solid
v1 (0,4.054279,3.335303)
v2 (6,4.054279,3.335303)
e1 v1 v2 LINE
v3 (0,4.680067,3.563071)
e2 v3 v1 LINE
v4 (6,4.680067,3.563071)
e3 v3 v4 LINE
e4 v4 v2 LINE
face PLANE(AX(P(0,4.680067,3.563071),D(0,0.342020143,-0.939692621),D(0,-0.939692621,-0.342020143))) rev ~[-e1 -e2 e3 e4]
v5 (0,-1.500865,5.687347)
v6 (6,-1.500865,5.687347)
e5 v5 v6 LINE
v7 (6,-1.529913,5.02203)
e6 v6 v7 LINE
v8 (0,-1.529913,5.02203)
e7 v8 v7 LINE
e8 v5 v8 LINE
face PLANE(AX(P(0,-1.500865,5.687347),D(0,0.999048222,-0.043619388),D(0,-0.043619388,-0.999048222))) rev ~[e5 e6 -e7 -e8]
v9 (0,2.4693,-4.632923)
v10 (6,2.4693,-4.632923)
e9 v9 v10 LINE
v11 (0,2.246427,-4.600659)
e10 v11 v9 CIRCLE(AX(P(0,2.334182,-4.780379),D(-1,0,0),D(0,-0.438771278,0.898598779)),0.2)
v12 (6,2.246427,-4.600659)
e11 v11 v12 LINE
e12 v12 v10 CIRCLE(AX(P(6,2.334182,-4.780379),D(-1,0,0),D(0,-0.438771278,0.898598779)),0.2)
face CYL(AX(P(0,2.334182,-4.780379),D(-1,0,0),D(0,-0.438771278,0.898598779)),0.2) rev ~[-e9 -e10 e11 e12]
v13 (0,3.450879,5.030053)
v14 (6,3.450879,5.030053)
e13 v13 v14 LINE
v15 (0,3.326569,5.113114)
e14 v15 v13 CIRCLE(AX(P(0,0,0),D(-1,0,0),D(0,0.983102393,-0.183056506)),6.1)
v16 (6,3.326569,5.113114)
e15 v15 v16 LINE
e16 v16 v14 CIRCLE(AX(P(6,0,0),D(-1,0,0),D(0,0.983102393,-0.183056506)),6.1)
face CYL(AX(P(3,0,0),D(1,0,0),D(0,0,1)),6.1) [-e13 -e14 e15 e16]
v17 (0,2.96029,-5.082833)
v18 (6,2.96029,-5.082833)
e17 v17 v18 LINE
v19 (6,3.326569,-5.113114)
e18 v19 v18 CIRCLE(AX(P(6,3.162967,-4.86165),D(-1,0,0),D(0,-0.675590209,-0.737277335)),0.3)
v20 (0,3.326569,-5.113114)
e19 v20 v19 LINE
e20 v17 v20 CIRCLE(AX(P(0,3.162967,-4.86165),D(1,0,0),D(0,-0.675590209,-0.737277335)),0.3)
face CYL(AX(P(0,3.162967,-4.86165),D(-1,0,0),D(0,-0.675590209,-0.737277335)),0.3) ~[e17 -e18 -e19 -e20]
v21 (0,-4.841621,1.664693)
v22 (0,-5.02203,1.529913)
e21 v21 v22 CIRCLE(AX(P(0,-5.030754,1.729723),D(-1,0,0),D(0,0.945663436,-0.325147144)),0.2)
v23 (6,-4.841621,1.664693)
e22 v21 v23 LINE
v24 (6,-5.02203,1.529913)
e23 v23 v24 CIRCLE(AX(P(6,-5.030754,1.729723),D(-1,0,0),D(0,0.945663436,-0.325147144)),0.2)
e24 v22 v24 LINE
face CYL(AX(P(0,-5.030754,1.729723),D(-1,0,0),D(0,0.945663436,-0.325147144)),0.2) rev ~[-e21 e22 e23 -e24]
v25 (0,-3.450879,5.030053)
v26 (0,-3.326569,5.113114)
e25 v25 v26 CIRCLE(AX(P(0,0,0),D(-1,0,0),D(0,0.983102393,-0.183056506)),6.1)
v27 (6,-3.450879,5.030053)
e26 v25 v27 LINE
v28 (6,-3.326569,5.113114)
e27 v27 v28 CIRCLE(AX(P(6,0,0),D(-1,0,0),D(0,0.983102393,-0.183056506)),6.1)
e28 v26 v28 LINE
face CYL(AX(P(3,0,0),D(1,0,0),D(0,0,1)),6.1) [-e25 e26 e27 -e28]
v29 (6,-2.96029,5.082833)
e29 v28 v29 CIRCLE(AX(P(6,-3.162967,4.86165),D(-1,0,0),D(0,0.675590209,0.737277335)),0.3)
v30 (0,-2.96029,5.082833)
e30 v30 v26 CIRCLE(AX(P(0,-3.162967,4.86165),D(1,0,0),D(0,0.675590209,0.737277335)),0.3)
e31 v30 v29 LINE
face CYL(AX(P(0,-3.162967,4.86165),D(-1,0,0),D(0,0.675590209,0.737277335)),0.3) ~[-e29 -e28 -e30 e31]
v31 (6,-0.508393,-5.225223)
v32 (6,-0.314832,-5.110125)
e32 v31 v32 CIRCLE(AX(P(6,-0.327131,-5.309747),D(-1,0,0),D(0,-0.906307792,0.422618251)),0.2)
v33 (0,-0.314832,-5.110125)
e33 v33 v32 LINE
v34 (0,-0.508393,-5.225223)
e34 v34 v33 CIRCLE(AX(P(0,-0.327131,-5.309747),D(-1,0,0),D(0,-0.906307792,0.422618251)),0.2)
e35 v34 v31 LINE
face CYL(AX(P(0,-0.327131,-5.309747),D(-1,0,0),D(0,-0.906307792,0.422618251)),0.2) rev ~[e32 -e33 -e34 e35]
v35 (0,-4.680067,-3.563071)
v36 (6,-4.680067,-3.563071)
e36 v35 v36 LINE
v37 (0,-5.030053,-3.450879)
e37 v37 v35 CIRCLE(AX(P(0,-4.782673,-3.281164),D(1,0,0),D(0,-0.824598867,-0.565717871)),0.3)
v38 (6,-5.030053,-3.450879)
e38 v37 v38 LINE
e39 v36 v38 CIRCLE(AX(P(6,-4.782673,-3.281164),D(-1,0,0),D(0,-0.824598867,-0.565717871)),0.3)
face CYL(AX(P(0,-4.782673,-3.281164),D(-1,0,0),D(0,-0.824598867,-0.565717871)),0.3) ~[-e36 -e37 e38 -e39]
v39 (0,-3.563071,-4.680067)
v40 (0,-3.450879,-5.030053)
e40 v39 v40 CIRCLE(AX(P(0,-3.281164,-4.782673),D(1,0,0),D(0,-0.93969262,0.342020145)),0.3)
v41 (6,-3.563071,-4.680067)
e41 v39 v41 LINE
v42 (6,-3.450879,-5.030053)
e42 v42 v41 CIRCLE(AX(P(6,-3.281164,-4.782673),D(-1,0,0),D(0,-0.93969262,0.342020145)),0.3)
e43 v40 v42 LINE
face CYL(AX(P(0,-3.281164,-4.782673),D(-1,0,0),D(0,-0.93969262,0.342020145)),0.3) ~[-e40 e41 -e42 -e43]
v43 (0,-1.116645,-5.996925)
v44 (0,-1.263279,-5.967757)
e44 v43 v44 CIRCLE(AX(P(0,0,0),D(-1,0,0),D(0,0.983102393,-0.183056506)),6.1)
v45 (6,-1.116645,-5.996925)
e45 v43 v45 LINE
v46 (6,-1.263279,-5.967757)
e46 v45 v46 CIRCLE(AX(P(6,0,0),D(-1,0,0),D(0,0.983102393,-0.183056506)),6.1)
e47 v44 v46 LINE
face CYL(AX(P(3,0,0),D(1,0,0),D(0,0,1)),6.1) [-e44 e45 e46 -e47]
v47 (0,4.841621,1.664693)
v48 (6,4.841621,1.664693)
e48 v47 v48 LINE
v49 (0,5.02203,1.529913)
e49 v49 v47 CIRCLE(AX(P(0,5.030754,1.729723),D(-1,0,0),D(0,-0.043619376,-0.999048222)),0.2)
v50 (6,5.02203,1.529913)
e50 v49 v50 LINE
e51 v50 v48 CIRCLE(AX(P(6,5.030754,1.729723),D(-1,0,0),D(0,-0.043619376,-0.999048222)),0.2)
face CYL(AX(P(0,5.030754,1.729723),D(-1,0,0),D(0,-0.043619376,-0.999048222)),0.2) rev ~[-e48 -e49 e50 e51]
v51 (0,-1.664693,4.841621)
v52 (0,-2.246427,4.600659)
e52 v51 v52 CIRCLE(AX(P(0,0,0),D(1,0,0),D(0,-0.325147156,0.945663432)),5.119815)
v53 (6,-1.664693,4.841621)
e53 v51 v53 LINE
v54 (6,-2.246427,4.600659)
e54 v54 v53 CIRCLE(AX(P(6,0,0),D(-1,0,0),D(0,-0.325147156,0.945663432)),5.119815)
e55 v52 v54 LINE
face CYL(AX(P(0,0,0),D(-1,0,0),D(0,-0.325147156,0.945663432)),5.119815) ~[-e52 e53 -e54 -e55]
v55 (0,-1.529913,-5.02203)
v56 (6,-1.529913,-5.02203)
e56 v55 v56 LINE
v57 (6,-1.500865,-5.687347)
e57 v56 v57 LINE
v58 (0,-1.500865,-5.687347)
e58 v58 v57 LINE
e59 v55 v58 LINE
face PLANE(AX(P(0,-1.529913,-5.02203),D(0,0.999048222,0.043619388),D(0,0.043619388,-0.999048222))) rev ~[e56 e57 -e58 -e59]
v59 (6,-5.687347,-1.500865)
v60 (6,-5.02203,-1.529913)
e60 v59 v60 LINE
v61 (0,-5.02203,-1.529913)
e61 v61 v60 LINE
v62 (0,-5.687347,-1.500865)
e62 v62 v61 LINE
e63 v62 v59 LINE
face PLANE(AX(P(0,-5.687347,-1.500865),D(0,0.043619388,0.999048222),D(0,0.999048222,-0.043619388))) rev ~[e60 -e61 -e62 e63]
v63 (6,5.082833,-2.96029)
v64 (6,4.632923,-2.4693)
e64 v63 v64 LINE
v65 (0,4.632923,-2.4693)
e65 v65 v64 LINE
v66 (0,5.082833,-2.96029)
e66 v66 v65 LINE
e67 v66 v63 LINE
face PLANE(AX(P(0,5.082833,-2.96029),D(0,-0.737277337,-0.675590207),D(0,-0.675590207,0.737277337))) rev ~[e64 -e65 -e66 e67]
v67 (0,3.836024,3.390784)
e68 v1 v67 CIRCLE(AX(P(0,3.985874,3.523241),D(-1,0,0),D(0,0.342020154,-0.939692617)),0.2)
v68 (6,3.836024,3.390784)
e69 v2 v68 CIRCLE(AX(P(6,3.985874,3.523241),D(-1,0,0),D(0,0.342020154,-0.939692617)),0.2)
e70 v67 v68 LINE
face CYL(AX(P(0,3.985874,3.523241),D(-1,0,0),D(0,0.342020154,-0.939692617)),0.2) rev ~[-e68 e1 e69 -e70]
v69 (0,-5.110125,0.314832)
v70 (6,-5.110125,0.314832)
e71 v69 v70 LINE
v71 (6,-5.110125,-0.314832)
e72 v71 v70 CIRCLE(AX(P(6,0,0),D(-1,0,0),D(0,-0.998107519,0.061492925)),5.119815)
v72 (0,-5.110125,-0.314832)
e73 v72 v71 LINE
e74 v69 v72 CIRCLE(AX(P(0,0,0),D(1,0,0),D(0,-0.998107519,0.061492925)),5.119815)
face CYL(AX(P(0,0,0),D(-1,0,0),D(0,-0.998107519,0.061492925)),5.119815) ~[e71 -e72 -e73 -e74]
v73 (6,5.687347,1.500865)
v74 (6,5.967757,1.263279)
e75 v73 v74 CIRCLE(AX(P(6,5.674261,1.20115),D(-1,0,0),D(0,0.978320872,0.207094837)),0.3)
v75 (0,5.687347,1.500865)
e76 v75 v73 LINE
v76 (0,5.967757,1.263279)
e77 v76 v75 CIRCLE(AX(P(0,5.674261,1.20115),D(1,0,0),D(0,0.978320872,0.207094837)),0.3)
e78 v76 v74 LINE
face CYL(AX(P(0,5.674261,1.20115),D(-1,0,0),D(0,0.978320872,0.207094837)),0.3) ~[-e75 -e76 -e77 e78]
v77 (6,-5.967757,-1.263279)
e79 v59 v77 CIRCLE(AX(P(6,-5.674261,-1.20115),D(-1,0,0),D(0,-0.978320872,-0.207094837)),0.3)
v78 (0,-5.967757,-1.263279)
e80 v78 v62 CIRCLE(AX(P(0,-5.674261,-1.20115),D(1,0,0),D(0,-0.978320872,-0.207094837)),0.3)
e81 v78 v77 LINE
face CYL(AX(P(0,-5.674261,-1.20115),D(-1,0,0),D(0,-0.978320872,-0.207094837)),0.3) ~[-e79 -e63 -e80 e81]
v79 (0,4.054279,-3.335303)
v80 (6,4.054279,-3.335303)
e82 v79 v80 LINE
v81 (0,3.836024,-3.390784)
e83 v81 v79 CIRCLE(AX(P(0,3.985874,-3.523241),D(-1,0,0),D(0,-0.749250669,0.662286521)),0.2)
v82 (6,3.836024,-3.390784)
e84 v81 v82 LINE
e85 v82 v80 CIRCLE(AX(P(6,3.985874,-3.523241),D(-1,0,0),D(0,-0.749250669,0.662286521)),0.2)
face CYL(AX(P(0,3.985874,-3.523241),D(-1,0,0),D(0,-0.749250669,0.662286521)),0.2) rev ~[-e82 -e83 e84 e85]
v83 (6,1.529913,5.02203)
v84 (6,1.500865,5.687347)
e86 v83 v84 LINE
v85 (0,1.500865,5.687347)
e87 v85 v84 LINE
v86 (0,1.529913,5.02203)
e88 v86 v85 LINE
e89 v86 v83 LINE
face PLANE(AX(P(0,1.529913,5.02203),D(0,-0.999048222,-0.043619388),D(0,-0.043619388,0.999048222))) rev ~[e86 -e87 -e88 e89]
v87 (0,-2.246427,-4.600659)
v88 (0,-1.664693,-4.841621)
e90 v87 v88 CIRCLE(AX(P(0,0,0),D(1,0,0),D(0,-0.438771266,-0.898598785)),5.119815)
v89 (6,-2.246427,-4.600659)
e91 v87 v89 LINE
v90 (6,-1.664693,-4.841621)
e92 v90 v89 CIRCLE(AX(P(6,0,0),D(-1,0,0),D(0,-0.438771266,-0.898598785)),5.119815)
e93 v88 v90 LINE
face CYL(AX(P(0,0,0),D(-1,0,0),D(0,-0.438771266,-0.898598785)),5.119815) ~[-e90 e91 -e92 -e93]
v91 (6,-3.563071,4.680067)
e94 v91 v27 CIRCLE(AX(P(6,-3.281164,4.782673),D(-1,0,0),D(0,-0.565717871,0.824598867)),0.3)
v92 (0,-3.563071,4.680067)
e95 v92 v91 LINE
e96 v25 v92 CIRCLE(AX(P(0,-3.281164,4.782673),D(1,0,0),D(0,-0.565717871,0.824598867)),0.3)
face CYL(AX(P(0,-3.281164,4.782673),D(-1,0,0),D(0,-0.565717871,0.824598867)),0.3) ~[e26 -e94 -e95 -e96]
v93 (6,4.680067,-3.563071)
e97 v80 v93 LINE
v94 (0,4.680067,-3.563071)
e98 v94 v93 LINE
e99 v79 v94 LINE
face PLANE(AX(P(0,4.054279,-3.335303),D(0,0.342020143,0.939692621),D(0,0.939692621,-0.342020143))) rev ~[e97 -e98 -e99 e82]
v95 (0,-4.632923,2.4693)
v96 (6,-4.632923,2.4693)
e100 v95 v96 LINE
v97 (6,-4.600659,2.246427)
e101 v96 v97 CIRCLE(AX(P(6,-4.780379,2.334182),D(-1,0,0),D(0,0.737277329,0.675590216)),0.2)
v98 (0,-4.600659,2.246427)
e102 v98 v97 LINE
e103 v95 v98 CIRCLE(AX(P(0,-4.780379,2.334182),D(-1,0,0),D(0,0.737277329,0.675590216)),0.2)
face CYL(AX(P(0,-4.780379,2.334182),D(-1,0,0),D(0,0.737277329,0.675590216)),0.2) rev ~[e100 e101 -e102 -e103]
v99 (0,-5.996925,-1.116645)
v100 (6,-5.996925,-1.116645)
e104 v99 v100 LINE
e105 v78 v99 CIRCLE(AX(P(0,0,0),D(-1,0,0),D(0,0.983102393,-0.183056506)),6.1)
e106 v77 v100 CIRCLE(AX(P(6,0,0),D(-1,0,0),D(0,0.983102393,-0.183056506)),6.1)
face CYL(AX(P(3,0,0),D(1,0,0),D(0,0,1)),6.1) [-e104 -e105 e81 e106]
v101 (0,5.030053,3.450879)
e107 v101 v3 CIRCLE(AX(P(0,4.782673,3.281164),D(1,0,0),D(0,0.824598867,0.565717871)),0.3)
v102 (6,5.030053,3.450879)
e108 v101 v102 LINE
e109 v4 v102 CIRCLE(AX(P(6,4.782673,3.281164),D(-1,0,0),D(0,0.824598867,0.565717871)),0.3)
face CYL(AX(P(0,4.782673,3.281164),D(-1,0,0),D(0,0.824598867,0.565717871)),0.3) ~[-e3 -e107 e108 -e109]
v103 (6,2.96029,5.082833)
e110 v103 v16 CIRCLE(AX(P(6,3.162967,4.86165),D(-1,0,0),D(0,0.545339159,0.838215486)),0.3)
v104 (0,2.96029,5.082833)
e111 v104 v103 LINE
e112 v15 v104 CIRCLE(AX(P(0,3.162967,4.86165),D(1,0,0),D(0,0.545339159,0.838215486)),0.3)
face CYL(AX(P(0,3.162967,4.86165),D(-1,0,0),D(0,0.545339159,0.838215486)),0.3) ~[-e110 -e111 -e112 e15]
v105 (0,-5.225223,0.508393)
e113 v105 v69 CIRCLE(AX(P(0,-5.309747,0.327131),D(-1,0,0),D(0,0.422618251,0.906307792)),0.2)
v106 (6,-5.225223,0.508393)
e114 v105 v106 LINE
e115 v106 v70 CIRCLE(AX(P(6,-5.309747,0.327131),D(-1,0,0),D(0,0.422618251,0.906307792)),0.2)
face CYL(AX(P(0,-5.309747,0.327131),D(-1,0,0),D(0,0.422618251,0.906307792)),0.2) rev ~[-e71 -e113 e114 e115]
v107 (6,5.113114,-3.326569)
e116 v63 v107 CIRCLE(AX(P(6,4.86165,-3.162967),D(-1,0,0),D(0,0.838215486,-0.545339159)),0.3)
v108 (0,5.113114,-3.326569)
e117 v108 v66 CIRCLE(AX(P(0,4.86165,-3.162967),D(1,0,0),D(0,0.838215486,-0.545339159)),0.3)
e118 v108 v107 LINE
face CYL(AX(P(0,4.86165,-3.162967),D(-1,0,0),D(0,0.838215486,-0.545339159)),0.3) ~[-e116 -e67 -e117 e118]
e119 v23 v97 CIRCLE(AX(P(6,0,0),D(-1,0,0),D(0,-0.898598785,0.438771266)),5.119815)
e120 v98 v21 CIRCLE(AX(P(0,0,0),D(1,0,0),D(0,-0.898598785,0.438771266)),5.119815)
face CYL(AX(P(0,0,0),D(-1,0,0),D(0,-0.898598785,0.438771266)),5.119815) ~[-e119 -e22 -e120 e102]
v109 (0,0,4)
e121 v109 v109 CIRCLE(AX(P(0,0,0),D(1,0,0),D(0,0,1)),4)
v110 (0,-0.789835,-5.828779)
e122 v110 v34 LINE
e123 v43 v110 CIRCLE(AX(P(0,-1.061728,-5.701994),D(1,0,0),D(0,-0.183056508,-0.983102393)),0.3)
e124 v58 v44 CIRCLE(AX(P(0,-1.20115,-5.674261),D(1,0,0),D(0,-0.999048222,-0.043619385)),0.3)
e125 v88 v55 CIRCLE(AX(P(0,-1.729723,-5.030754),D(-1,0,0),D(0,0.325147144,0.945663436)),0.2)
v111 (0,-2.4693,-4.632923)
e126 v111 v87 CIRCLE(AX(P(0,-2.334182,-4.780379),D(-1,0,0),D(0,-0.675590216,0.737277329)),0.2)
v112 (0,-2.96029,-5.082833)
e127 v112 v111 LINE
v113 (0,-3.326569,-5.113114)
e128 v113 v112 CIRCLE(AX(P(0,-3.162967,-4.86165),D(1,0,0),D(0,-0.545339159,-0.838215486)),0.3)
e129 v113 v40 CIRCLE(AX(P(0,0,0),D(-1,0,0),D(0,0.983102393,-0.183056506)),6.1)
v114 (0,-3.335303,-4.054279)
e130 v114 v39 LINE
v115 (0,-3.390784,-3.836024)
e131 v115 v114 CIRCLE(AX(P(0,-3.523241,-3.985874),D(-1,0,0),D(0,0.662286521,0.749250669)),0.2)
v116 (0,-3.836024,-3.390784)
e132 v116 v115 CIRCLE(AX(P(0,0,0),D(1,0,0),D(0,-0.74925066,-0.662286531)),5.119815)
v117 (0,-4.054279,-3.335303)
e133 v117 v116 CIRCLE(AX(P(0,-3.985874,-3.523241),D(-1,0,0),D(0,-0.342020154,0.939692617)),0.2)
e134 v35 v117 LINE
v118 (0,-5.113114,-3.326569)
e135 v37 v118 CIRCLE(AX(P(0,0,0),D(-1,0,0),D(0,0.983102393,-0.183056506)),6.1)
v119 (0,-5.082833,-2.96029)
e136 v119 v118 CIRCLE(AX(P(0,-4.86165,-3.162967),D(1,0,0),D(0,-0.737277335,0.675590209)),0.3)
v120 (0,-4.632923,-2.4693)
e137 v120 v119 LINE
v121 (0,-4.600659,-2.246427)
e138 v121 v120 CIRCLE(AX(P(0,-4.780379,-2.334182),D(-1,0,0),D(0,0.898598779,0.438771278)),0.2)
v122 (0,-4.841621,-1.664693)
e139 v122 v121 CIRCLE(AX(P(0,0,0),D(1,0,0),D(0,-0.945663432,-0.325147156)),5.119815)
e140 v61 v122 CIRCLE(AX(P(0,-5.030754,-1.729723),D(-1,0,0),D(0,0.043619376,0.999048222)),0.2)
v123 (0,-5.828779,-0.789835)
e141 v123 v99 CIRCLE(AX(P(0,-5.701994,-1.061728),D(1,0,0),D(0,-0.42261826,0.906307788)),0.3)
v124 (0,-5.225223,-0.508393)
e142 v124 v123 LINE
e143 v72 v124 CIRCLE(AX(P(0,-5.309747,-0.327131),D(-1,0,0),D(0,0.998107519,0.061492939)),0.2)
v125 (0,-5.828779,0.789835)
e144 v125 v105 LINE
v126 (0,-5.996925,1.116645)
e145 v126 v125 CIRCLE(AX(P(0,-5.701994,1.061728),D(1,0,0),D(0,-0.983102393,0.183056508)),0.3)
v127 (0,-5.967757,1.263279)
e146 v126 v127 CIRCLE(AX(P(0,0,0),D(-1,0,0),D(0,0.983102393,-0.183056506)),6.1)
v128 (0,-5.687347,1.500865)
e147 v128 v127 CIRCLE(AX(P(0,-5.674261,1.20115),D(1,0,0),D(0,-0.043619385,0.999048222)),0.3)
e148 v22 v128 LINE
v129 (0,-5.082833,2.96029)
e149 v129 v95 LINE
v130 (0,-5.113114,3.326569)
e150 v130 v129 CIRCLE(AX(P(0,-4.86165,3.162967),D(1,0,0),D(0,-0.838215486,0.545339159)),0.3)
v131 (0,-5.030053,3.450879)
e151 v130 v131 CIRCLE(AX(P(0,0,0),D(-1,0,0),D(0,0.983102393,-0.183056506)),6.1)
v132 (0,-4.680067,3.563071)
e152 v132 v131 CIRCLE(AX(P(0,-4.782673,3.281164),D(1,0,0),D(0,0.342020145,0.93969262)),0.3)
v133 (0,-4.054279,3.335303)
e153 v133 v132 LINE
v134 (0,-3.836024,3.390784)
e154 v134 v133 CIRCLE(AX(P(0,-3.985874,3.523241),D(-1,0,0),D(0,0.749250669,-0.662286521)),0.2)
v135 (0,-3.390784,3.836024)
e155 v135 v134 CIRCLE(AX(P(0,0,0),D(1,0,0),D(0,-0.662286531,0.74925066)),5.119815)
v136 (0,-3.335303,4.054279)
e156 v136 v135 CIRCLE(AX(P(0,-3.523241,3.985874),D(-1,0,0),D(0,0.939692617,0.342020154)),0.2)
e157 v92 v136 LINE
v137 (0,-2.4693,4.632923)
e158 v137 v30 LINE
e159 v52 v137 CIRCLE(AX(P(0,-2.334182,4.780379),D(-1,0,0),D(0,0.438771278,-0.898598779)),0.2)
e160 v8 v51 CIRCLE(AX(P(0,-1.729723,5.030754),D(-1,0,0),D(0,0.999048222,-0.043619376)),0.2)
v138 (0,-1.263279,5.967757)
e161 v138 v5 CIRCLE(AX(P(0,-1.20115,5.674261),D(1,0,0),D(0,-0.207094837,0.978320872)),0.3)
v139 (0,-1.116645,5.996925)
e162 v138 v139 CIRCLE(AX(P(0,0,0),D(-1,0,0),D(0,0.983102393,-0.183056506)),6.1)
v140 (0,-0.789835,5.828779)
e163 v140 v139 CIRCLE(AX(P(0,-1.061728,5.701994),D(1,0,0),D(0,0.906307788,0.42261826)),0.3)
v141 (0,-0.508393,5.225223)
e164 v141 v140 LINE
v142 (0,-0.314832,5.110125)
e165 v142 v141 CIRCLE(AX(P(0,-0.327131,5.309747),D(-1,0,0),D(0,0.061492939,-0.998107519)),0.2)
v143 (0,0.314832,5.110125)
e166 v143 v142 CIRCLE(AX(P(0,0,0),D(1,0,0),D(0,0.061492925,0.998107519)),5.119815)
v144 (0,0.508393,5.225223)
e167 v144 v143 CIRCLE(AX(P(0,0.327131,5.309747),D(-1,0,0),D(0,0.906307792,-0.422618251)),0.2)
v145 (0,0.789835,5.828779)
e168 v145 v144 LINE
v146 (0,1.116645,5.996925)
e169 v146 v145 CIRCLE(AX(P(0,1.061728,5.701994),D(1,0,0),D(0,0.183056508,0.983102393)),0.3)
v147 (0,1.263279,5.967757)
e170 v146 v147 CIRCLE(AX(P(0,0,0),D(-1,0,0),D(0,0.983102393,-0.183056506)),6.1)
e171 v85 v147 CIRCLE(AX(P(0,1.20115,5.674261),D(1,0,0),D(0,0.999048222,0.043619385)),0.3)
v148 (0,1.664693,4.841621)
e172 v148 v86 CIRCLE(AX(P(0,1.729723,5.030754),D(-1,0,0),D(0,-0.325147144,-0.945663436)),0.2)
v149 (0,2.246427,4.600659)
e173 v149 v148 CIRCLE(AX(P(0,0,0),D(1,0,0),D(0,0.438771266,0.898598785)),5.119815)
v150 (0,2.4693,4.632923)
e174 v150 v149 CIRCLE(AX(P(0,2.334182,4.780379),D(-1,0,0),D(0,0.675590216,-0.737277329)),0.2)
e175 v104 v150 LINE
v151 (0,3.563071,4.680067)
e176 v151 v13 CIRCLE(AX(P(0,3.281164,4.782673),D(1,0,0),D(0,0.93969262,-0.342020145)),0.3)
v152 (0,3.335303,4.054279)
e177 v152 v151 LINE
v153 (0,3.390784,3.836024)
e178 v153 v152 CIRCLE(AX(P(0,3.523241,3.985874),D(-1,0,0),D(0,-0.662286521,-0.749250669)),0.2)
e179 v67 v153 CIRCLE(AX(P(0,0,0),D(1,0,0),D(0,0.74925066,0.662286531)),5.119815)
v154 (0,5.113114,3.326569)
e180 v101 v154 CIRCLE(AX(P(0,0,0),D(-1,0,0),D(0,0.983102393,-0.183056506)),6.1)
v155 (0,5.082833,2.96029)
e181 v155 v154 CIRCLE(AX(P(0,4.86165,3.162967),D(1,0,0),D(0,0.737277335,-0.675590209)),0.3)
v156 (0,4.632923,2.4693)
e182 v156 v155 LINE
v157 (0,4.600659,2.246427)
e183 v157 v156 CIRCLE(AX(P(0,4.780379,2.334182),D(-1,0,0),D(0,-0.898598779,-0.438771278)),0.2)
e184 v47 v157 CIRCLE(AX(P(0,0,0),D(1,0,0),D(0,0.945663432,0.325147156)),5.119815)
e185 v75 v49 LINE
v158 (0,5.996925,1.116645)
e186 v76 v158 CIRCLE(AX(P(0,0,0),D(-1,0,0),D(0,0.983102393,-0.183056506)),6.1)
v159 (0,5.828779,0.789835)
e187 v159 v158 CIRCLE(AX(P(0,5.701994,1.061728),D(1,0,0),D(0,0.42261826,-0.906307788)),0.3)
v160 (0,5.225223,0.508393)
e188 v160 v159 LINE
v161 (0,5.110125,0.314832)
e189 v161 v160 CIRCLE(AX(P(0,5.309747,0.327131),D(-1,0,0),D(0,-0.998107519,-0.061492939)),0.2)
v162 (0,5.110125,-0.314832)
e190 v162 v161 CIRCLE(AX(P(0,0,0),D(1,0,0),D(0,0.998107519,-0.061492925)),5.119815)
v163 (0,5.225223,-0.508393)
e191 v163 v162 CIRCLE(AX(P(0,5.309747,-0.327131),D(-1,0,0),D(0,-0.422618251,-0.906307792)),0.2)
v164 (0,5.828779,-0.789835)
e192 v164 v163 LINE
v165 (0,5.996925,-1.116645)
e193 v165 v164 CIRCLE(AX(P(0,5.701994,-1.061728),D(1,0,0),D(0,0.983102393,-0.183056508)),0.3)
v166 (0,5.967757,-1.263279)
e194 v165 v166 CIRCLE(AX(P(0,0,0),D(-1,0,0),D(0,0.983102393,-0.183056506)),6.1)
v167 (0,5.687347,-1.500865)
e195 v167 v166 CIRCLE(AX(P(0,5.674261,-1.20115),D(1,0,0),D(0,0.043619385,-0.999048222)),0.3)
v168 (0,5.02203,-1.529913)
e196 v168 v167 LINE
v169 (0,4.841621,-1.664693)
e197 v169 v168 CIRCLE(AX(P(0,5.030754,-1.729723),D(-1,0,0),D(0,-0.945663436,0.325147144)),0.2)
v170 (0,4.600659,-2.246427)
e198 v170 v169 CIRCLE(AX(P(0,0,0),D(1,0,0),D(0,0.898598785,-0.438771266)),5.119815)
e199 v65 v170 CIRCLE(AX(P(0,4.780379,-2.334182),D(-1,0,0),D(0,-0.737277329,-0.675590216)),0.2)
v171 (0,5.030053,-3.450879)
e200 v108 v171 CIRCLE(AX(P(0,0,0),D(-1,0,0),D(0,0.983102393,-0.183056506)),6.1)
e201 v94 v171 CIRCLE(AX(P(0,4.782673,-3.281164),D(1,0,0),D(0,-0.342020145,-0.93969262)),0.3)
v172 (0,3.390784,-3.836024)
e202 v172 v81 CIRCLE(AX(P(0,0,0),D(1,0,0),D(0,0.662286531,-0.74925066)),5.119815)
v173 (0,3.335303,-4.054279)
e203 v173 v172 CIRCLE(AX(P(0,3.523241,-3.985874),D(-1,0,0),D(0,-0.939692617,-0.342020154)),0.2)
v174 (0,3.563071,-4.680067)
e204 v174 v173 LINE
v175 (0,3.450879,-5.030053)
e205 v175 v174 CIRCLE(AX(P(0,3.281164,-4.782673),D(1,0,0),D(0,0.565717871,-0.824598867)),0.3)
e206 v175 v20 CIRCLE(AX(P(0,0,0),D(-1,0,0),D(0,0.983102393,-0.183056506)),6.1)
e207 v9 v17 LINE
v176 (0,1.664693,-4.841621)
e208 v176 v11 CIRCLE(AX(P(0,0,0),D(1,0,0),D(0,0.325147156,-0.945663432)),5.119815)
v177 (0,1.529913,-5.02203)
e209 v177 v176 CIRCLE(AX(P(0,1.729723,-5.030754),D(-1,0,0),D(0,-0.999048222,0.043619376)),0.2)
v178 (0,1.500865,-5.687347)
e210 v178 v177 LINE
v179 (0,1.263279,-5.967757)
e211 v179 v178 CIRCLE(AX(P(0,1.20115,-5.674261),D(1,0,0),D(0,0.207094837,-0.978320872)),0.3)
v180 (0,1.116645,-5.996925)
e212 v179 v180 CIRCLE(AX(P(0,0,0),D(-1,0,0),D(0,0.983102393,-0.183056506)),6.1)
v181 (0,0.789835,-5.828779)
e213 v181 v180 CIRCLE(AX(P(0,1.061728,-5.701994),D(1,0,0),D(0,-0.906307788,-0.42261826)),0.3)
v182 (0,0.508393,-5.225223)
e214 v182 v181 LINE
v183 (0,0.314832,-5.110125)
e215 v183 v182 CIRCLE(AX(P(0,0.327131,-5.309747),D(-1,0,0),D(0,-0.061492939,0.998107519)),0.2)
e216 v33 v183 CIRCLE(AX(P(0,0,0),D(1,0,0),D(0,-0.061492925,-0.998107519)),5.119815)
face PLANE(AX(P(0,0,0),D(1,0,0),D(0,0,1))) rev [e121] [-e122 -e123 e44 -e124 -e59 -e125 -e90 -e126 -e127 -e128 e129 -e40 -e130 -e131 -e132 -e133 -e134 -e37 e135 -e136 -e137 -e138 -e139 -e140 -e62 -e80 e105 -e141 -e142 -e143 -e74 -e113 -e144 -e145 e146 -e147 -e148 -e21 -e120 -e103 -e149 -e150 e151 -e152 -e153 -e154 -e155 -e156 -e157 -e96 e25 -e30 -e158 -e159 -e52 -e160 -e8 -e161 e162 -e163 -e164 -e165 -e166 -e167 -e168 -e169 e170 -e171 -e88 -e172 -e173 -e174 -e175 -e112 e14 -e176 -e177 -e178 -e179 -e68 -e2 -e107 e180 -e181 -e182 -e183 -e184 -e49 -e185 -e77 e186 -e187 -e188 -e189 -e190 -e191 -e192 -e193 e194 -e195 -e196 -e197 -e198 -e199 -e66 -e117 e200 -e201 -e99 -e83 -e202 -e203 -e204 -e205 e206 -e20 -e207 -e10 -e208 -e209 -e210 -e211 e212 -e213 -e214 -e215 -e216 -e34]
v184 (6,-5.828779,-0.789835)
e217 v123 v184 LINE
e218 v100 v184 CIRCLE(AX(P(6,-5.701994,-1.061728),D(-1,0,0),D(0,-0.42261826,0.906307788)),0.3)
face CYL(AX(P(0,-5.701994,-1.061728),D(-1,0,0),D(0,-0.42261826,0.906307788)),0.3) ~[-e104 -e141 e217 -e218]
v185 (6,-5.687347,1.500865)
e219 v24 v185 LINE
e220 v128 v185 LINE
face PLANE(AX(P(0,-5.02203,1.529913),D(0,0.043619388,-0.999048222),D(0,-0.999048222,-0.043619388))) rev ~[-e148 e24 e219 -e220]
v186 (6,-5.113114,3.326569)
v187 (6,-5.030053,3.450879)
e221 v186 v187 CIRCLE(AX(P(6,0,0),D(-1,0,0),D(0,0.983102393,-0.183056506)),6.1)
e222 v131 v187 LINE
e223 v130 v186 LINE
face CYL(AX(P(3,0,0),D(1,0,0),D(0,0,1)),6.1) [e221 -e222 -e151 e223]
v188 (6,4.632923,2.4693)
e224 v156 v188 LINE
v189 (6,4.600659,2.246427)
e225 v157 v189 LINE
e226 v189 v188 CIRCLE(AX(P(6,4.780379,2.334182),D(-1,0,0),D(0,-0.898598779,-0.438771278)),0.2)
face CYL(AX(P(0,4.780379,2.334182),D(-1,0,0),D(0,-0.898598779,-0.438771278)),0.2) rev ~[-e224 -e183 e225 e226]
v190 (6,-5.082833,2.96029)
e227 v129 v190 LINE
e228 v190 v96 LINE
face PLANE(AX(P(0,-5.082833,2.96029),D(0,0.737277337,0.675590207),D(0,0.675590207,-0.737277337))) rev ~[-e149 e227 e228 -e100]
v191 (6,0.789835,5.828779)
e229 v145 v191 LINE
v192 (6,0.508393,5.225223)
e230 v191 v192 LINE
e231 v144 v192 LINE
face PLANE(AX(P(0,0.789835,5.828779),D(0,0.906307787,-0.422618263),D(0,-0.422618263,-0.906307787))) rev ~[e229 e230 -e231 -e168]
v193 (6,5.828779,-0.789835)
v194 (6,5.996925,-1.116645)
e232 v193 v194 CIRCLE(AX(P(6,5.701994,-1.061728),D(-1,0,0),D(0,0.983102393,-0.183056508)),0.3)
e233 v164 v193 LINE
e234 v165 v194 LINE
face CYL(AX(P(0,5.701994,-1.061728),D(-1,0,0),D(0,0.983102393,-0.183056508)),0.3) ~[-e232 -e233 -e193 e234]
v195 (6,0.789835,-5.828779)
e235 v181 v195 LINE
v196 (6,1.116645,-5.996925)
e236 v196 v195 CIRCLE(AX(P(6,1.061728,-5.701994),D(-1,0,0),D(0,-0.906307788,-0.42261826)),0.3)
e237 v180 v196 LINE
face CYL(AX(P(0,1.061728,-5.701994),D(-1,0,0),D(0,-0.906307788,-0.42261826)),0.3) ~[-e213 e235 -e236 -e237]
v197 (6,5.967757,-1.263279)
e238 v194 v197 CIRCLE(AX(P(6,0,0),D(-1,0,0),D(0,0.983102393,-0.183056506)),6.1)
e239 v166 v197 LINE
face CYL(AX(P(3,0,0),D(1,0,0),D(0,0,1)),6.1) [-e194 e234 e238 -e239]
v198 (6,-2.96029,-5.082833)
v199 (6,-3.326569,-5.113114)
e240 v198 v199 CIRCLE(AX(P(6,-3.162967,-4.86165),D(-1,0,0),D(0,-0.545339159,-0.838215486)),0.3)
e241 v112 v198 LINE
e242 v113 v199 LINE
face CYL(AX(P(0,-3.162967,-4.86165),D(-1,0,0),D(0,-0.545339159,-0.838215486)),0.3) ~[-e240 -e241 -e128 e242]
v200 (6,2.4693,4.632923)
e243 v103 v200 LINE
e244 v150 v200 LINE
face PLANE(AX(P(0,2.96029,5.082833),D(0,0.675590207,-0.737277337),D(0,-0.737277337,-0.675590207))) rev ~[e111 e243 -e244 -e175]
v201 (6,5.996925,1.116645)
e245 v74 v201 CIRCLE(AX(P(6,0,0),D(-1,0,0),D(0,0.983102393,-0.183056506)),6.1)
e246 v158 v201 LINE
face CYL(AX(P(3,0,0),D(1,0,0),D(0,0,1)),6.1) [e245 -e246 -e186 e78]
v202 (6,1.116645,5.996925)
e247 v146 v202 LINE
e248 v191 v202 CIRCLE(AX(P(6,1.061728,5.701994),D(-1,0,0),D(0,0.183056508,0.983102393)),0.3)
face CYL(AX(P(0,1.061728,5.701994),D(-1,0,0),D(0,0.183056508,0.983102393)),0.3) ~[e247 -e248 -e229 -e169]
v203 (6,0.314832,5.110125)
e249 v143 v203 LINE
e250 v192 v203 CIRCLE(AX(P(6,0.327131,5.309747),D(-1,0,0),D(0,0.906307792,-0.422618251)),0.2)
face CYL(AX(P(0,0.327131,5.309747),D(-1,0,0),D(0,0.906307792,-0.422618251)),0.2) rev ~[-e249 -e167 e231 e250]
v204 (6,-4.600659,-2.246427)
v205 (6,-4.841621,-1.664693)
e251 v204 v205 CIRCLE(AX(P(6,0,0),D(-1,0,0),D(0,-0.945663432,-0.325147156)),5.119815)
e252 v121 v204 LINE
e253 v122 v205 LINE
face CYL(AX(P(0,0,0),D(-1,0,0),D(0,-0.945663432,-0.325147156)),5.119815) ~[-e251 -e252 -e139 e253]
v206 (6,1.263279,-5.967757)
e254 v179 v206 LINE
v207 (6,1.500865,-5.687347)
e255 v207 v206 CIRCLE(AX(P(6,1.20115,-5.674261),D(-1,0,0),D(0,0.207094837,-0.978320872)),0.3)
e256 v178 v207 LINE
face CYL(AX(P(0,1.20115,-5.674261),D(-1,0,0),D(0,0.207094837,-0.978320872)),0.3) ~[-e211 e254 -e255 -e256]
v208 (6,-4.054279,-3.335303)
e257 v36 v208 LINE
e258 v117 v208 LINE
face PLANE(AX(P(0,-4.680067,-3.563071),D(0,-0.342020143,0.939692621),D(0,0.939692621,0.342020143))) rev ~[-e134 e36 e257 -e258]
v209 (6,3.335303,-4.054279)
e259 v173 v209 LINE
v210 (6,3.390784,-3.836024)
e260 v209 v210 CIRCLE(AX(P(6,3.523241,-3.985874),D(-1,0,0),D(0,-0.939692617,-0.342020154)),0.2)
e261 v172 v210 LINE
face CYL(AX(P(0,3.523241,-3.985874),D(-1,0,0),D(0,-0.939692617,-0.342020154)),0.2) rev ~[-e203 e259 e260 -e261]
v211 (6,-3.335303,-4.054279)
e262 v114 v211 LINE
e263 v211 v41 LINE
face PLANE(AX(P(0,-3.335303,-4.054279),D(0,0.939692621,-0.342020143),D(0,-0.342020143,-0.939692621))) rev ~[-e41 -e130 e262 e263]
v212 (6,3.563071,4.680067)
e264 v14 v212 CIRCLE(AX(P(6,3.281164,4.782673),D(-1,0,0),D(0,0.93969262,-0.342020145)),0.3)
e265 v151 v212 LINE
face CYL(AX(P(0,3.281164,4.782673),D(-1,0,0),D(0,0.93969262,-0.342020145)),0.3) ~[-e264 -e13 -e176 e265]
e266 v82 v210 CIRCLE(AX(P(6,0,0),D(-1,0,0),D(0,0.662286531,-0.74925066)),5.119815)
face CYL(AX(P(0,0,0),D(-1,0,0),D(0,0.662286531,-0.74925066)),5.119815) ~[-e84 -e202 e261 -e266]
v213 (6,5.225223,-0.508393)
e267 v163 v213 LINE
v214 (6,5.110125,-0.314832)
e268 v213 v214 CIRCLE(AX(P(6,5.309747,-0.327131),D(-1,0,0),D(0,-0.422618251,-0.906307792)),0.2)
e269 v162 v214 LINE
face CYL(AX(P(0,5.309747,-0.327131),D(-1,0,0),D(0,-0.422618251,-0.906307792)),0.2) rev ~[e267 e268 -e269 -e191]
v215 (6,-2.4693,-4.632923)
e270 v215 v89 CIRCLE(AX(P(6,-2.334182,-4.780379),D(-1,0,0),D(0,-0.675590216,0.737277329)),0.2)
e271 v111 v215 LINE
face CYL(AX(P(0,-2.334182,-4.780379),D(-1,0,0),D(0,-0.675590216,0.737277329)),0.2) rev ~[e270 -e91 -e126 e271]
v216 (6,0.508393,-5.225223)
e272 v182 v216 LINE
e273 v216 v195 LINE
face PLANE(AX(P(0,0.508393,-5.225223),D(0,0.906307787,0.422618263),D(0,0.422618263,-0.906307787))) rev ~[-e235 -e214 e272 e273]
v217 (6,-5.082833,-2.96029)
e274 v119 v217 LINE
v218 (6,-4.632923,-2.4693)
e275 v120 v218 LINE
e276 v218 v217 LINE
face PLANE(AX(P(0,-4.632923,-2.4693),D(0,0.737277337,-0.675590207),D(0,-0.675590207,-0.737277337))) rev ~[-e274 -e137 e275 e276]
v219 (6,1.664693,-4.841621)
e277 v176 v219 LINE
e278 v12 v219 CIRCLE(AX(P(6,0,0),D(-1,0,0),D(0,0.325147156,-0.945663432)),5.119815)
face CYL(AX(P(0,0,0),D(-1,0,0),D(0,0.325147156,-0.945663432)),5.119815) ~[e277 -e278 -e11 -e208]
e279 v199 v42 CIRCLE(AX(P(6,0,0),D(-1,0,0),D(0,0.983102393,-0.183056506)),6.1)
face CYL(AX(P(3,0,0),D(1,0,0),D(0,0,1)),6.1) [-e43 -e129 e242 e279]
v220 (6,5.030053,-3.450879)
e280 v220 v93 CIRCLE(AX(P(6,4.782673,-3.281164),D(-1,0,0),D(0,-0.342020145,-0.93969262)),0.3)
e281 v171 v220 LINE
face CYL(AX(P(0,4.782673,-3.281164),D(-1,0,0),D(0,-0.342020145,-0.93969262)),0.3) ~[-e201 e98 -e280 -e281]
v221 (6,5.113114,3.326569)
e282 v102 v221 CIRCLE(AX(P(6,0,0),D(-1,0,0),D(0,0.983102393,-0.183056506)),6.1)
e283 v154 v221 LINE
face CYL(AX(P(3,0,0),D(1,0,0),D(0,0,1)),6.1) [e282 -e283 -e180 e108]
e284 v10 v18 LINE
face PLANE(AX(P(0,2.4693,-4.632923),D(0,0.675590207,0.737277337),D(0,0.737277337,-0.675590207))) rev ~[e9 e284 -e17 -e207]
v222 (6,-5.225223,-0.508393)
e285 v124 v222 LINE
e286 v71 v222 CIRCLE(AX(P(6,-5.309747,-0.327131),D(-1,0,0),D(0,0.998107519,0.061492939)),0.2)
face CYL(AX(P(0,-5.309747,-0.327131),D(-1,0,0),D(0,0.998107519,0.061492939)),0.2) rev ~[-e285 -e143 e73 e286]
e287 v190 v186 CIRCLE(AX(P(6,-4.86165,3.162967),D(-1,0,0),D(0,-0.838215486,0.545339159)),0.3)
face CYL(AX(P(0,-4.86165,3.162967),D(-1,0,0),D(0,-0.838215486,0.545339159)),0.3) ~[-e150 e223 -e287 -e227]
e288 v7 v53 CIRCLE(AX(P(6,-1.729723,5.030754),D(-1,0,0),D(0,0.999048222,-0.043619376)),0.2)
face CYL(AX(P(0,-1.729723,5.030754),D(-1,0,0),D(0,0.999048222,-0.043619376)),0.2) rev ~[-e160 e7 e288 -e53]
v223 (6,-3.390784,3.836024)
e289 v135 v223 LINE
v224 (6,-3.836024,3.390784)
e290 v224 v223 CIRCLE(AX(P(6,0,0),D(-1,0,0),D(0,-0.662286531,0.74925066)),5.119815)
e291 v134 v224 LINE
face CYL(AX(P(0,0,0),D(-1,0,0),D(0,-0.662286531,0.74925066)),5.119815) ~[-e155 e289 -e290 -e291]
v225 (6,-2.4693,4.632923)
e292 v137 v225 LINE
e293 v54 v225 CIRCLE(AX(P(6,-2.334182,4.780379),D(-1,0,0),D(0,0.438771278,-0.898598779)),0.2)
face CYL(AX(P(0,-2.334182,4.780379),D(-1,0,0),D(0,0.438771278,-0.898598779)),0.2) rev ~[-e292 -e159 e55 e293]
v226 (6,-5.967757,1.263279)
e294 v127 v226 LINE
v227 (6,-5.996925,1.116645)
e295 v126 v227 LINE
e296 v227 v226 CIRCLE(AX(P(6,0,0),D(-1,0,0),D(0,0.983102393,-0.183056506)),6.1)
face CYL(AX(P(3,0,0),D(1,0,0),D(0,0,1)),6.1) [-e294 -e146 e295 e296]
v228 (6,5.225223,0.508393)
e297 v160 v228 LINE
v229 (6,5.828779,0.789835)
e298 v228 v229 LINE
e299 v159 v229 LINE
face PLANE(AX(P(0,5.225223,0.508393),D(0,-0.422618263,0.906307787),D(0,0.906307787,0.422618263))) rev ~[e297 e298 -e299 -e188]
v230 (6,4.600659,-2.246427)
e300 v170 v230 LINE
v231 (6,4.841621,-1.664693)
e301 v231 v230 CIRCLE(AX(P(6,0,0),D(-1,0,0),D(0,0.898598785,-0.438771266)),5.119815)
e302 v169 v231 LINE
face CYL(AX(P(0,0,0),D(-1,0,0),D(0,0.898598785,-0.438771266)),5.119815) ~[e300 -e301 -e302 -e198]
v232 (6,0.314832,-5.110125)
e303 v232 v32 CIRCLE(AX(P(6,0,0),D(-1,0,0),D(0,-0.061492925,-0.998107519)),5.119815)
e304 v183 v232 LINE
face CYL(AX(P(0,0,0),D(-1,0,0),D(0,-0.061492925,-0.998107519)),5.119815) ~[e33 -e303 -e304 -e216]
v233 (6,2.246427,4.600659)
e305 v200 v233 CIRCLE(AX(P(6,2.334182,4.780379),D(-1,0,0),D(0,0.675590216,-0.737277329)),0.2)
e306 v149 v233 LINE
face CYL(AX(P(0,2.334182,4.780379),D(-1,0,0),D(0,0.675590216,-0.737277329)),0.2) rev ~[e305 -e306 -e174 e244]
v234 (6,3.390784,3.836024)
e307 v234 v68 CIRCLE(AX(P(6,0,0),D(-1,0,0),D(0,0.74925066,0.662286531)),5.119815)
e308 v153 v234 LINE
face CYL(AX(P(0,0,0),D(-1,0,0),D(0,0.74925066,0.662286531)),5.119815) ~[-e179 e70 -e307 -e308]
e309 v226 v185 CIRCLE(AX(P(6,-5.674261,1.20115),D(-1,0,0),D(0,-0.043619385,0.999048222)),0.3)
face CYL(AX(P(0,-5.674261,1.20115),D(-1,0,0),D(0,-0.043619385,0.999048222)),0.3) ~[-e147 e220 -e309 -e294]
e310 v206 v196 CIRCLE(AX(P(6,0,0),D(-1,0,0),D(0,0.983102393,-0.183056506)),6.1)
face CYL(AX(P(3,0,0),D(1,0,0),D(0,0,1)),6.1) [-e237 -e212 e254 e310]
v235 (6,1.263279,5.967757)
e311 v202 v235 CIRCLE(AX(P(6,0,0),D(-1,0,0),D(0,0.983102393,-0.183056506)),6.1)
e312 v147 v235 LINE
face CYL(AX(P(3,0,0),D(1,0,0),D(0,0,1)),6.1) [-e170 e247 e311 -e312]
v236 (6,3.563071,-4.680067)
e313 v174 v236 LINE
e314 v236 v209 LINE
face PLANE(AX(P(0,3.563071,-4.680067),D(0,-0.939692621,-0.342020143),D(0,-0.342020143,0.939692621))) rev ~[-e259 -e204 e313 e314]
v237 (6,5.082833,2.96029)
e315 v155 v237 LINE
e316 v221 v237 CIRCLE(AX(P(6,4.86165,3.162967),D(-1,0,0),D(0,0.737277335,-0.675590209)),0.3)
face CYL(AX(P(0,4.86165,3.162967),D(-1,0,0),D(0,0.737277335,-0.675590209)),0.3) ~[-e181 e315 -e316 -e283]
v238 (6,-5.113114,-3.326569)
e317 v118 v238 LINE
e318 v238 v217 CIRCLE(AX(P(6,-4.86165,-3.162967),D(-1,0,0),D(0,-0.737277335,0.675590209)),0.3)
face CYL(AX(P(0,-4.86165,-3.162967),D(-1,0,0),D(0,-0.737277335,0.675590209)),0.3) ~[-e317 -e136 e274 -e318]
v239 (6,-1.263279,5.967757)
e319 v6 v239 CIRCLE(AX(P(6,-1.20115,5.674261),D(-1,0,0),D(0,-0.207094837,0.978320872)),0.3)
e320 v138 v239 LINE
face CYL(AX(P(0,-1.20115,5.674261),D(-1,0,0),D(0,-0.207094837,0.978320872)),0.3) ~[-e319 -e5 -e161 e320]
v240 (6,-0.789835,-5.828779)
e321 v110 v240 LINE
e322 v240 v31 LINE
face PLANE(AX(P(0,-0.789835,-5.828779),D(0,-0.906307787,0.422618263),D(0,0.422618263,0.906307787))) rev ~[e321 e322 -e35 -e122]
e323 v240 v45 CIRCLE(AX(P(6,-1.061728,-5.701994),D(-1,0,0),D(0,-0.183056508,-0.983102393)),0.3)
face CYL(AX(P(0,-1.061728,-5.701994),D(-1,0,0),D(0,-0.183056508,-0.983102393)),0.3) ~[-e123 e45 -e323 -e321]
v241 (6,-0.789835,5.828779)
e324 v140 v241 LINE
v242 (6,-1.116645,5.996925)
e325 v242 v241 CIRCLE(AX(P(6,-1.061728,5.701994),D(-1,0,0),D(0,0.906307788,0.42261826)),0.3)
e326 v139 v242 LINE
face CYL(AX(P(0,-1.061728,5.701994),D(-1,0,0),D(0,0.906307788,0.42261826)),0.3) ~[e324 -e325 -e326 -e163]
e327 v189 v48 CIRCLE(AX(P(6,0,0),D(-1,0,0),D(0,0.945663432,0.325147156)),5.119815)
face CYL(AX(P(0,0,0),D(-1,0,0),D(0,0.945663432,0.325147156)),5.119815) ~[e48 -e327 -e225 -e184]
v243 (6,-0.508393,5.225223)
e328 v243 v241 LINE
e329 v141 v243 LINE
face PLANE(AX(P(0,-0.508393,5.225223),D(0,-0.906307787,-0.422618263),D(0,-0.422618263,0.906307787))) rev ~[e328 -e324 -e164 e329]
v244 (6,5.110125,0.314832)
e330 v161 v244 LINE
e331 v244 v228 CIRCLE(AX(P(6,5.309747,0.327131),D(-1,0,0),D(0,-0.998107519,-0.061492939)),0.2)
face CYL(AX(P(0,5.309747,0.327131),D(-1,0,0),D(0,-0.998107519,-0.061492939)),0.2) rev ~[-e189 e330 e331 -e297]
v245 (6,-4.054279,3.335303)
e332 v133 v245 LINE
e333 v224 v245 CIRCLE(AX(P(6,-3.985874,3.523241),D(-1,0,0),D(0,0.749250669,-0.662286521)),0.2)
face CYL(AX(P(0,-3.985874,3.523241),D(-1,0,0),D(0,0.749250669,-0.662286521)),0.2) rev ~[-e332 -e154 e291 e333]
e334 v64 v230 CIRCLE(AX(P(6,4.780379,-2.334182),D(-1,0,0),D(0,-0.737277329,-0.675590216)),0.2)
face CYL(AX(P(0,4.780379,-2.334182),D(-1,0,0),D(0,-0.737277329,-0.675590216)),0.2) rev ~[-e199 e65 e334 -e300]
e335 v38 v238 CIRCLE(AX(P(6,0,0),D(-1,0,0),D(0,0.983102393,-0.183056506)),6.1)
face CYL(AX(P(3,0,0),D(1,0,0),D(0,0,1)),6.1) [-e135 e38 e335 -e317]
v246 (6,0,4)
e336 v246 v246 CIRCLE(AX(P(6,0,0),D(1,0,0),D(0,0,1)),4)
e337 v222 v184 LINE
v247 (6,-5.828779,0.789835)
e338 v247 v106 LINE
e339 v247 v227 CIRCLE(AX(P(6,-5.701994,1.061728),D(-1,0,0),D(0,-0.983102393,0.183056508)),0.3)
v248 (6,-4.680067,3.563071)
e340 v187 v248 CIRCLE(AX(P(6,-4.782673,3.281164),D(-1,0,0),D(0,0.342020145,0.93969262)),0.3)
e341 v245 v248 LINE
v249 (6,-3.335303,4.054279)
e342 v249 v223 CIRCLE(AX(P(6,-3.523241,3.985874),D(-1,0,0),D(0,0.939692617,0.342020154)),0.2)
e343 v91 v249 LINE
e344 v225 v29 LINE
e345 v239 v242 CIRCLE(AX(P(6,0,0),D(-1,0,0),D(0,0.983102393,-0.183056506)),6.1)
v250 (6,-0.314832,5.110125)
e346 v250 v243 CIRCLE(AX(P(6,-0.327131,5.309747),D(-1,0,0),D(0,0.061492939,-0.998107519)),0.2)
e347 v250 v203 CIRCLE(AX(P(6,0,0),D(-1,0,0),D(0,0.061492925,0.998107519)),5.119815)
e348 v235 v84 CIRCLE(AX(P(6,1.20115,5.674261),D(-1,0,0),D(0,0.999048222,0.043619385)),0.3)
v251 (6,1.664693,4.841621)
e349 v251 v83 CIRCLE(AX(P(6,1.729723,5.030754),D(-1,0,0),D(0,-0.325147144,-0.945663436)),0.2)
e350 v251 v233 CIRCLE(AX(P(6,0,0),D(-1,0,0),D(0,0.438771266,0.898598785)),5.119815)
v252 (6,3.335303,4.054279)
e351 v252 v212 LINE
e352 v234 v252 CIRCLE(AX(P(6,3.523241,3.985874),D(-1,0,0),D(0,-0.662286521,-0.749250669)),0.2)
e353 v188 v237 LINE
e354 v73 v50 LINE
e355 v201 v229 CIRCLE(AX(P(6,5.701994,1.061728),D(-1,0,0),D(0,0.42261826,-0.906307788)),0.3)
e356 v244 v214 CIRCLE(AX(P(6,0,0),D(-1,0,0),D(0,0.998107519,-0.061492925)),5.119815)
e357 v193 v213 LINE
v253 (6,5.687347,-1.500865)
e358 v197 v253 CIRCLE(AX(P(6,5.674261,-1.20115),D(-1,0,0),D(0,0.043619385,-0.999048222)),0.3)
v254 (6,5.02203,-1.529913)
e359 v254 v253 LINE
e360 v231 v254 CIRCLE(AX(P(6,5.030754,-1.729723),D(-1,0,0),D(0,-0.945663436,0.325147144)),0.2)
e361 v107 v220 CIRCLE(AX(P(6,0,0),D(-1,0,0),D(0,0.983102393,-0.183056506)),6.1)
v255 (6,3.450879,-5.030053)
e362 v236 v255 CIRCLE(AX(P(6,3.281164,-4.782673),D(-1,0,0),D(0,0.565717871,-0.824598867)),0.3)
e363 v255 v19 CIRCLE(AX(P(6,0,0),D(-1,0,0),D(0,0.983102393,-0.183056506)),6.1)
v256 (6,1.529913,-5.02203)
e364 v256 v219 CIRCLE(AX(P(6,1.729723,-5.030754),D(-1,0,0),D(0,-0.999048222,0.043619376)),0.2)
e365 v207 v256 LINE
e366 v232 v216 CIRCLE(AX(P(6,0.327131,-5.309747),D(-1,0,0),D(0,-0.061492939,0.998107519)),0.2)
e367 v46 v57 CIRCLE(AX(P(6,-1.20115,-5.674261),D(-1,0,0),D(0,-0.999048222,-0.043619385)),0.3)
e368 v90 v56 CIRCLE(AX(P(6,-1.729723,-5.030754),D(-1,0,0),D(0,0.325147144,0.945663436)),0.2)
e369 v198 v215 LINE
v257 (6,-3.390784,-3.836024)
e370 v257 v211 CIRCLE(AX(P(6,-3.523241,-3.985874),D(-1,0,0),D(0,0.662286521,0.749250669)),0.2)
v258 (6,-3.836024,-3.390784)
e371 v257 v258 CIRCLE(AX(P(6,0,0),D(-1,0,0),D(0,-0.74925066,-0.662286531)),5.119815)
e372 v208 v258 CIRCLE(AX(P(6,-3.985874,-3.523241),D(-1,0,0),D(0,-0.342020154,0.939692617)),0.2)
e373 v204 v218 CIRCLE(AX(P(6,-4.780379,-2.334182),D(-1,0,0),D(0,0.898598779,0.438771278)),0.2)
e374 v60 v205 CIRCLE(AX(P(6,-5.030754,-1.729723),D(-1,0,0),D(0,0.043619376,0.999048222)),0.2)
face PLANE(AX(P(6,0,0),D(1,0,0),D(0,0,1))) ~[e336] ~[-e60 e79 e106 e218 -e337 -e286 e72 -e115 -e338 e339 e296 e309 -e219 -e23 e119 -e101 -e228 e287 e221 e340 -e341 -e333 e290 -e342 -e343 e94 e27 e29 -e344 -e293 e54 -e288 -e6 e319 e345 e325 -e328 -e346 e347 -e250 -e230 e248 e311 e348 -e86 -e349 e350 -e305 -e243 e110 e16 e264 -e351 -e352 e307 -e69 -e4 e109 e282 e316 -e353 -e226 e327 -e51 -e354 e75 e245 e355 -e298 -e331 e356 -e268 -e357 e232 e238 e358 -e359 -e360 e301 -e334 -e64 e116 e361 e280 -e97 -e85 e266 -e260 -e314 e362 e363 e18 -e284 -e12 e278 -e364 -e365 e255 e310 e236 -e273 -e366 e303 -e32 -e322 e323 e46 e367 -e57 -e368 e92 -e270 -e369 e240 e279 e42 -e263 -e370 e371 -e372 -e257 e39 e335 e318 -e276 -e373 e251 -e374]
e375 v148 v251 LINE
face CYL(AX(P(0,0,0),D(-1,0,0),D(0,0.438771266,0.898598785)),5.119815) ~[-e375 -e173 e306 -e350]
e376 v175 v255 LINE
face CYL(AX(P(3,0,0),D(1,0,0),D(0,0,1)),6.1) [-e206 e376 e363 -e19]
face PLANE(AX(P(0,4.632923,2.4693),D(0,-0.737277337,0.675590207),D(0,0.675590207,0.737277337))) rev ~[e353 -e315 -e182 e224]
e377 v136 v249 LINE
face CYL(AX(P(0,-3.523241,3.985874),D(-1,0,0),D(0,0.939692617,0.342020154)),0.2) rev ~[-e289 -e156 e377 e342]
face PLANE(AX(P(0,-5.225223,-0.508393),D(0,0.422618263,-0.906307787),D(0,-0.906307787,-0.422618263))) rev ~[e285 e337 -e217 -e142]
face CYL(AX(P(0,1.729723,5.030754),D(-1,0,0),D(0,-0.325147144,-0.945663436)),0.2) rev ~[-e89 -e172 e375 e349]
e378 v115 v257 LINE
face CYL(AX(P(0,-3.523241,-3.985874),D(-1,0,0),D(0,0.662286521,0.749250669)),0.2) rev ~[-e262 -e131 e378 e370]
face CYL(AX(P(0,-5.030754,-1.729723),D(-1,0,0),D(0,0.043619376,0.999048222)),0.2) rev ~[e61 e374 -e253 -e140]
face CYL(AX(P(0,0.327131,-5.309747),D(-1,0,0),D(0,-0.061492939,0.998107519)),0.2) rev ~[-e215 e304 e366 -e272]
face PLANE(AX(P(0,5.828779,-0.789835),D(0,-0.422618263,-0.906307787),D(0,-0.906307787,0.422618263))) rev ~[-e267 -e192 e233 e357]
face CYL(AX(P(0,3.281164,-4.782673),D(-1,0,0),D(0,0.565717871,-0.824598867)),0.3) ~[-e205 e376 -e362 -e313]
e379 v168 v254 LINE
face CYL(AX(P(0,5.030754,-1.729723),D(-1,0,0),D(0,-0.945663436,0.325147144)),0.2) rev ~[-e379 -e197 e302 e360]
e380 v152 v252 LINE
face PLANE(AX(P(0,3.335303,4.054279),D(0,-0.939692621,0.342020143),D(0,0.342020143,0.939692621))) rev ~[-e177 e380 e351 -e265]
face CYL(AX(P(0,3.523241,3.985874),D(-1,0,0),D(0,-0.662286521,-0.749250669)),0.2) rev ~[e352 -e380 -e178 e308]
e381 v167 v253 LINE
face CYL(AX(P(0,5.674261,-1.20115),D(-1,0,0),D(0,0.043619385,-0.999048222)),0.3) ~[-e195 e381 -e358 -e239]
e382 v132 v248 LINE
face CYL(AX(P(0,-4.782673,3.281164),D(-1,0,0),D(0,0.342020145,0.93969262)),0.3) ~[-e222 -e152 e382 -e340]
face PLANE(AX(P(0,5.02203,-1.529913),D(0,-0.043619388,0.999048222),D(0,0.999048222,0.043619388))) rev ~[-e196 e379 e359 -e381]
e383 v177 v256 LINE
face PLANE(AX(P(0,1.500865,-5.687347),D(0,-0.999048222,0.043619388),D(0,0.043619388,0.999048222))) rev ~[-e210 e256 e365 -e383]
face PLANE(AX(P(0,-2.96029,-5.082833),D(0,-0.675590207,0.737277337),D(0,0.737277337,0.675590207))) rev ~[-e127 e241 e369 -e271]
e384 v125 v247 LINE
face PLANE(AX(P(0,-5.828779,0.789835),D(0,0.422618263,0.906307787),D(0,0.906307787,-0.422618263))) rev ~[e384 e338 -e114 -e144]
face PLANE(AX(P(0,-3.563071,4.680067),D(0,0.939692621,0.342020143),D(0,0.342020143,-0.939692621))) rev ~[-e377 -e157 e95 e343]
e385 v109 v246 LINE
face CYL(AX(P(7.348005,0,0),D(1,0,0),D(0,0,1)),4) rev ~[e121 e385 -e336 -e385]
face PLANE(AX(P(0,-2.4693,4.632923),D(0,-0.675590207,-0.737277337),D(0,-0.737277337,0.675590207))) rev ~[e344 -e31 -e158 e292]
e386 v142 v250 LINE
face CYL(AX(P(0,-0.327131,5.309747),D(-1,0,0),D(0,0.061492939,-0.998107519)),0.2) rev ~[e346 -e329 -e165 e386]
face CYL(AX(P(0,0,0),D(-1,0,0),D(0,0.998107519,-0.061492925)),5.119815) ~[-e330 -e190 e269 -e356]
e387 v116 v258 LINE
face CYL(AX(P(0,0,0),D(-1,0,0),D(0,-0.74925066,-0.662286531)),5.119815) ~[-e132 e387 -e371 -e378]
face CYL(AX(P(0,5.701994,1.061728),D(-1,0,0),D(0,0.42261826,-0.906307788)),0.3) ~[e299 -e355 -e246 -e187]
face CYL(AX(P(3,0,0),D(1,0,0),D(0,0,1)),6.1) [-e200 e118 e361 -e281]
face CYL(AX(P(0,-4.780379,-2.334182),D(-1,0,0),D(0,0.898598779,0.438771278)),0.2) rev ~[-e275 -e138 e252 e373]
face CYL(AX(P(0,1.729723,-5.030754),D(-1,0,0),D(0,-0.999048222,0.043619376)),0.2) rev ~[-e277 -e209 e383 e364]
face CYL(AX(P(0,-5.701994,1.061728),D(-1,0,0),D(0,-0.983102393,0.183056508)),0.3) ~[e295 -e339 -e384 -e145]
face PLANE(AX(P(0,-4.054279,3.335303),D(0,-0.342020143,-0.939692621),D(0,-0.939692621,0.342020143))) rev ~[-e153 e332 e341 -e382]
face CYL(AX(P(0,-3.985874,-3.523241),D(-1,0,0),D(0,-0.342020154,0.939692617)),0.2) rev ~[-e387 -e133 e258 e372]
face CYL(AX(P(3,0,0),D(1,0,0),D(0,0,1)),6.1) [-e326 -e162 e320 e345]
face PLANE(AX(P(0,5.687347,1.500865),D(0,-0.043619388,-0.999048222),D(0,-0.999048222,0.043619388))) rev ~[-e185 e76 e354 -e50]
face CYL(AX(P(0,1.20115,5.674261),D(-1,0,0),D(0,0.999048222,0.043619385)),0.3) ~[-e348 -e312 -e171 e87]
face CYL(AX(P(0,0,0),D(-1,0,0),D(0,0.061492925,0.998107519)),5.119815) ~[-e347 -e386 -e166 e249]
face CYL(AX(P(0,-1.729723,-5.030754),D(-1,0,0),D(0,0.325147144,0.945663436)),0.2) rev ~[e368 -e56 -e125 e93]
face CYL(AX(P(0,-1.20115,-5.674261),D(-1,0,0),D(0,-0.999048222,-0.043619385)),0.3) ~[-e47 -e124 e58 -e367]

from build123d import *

# Parameters (mm, degrees)
SKETCH2_W         = 6
SKETCH2_H         = 6.1
COG_DEPTH         = 11.50809212
PATTERN_COG_COUNT = 16
SKETCH8_W         = 17.303989153
SKETCH8_H         = 4


with BuildPart() as part:
    # Sketch2 → Body (revolve)
    with BuildSketch(Plane.XY, mode=Mode.PRIVATE) as body_sk:
        with Locations((3, 3.05)):
            Rectangle(SKETCH2_W, SKETCH2_H)
    revolve(body_sk.sketch.rotate(Axis((0, 0, 0), (1, 0, 0)), 90), axis=Axis((0, 0, 0), (1, 0, 0)))

    # Sketch6 → Cog (cut, through all)
    with BuildSketch(Plane(origin=(0, 0, 0), x_dir=(0, 0, -1), z_dir=(1, 0, 0))):
        with BuildLine():
            Line((0.789835397, 5.82877936), (0.508392514, 5.225223151))
            ThreePointArc((0.508392514, 5.225223151), (0.429351309, 5.137842761), (0.314832372, 5.1101253))
            ThreePointArc((0.314832372, 5.1101253), (0, 5.11981445), (-0.314832372, 5.1101253))
            ThreePointArc((-0.314832372, 5.1101253), (-0.429351309, 5.137842761), (-0.508392514, 5.225223151))
            Line((-0.508392514, 5.225223151), (-0.789835397, 5.82877936))
            ThreePointArc((-0.789835397, 5.82877936), (-0.924476923, 5.968756351), (-1.116644684, 5.996924599))
            ThreePointArc((-1.116644684, 5.996924599), (0, 6.1), (1.116644684, 5.996924599))
            ThreePointArc((1.116644684, 5.996924599), (0.924476923, 5.968756351), (0.789835397, 5.82877936))
        make_face()
    cog = extrude(amount=COG_DEPTH, mode=Mode.SUBTRACT)

    # Pattern-Cog: Cog ×16 about axis
    pattern_cog_axis = Axis((0, 0, 0), (1, 0, 0))
    for i in range(1, PATTERN_COG_COUNT):
        add(cog.rotate(pattern_cog_axis, i * 360 / PATTERN_COG_COUNT), mode=Mode.SUBTRACT)

    # Sketch8 → Hole-Shaft (revolve, cut)
    with BuildSketch(Plane.XY, mode=Mode.PRIVATE) as hole_shaft_sk:
        with Locations((7.348005424, -2)):
            Rectangle(SKETCH8_W, SKETCH8_H)
    revolve(hole_shaft_sk.sketch.rotate(Axis((-1.303989153, 0, 0), (1, 0, 0)), 270), axis=Axis((-1.303989153, 0, 0), (1, 0, 0)), mode=Mode.SUBTRACT)


solid = part.part
